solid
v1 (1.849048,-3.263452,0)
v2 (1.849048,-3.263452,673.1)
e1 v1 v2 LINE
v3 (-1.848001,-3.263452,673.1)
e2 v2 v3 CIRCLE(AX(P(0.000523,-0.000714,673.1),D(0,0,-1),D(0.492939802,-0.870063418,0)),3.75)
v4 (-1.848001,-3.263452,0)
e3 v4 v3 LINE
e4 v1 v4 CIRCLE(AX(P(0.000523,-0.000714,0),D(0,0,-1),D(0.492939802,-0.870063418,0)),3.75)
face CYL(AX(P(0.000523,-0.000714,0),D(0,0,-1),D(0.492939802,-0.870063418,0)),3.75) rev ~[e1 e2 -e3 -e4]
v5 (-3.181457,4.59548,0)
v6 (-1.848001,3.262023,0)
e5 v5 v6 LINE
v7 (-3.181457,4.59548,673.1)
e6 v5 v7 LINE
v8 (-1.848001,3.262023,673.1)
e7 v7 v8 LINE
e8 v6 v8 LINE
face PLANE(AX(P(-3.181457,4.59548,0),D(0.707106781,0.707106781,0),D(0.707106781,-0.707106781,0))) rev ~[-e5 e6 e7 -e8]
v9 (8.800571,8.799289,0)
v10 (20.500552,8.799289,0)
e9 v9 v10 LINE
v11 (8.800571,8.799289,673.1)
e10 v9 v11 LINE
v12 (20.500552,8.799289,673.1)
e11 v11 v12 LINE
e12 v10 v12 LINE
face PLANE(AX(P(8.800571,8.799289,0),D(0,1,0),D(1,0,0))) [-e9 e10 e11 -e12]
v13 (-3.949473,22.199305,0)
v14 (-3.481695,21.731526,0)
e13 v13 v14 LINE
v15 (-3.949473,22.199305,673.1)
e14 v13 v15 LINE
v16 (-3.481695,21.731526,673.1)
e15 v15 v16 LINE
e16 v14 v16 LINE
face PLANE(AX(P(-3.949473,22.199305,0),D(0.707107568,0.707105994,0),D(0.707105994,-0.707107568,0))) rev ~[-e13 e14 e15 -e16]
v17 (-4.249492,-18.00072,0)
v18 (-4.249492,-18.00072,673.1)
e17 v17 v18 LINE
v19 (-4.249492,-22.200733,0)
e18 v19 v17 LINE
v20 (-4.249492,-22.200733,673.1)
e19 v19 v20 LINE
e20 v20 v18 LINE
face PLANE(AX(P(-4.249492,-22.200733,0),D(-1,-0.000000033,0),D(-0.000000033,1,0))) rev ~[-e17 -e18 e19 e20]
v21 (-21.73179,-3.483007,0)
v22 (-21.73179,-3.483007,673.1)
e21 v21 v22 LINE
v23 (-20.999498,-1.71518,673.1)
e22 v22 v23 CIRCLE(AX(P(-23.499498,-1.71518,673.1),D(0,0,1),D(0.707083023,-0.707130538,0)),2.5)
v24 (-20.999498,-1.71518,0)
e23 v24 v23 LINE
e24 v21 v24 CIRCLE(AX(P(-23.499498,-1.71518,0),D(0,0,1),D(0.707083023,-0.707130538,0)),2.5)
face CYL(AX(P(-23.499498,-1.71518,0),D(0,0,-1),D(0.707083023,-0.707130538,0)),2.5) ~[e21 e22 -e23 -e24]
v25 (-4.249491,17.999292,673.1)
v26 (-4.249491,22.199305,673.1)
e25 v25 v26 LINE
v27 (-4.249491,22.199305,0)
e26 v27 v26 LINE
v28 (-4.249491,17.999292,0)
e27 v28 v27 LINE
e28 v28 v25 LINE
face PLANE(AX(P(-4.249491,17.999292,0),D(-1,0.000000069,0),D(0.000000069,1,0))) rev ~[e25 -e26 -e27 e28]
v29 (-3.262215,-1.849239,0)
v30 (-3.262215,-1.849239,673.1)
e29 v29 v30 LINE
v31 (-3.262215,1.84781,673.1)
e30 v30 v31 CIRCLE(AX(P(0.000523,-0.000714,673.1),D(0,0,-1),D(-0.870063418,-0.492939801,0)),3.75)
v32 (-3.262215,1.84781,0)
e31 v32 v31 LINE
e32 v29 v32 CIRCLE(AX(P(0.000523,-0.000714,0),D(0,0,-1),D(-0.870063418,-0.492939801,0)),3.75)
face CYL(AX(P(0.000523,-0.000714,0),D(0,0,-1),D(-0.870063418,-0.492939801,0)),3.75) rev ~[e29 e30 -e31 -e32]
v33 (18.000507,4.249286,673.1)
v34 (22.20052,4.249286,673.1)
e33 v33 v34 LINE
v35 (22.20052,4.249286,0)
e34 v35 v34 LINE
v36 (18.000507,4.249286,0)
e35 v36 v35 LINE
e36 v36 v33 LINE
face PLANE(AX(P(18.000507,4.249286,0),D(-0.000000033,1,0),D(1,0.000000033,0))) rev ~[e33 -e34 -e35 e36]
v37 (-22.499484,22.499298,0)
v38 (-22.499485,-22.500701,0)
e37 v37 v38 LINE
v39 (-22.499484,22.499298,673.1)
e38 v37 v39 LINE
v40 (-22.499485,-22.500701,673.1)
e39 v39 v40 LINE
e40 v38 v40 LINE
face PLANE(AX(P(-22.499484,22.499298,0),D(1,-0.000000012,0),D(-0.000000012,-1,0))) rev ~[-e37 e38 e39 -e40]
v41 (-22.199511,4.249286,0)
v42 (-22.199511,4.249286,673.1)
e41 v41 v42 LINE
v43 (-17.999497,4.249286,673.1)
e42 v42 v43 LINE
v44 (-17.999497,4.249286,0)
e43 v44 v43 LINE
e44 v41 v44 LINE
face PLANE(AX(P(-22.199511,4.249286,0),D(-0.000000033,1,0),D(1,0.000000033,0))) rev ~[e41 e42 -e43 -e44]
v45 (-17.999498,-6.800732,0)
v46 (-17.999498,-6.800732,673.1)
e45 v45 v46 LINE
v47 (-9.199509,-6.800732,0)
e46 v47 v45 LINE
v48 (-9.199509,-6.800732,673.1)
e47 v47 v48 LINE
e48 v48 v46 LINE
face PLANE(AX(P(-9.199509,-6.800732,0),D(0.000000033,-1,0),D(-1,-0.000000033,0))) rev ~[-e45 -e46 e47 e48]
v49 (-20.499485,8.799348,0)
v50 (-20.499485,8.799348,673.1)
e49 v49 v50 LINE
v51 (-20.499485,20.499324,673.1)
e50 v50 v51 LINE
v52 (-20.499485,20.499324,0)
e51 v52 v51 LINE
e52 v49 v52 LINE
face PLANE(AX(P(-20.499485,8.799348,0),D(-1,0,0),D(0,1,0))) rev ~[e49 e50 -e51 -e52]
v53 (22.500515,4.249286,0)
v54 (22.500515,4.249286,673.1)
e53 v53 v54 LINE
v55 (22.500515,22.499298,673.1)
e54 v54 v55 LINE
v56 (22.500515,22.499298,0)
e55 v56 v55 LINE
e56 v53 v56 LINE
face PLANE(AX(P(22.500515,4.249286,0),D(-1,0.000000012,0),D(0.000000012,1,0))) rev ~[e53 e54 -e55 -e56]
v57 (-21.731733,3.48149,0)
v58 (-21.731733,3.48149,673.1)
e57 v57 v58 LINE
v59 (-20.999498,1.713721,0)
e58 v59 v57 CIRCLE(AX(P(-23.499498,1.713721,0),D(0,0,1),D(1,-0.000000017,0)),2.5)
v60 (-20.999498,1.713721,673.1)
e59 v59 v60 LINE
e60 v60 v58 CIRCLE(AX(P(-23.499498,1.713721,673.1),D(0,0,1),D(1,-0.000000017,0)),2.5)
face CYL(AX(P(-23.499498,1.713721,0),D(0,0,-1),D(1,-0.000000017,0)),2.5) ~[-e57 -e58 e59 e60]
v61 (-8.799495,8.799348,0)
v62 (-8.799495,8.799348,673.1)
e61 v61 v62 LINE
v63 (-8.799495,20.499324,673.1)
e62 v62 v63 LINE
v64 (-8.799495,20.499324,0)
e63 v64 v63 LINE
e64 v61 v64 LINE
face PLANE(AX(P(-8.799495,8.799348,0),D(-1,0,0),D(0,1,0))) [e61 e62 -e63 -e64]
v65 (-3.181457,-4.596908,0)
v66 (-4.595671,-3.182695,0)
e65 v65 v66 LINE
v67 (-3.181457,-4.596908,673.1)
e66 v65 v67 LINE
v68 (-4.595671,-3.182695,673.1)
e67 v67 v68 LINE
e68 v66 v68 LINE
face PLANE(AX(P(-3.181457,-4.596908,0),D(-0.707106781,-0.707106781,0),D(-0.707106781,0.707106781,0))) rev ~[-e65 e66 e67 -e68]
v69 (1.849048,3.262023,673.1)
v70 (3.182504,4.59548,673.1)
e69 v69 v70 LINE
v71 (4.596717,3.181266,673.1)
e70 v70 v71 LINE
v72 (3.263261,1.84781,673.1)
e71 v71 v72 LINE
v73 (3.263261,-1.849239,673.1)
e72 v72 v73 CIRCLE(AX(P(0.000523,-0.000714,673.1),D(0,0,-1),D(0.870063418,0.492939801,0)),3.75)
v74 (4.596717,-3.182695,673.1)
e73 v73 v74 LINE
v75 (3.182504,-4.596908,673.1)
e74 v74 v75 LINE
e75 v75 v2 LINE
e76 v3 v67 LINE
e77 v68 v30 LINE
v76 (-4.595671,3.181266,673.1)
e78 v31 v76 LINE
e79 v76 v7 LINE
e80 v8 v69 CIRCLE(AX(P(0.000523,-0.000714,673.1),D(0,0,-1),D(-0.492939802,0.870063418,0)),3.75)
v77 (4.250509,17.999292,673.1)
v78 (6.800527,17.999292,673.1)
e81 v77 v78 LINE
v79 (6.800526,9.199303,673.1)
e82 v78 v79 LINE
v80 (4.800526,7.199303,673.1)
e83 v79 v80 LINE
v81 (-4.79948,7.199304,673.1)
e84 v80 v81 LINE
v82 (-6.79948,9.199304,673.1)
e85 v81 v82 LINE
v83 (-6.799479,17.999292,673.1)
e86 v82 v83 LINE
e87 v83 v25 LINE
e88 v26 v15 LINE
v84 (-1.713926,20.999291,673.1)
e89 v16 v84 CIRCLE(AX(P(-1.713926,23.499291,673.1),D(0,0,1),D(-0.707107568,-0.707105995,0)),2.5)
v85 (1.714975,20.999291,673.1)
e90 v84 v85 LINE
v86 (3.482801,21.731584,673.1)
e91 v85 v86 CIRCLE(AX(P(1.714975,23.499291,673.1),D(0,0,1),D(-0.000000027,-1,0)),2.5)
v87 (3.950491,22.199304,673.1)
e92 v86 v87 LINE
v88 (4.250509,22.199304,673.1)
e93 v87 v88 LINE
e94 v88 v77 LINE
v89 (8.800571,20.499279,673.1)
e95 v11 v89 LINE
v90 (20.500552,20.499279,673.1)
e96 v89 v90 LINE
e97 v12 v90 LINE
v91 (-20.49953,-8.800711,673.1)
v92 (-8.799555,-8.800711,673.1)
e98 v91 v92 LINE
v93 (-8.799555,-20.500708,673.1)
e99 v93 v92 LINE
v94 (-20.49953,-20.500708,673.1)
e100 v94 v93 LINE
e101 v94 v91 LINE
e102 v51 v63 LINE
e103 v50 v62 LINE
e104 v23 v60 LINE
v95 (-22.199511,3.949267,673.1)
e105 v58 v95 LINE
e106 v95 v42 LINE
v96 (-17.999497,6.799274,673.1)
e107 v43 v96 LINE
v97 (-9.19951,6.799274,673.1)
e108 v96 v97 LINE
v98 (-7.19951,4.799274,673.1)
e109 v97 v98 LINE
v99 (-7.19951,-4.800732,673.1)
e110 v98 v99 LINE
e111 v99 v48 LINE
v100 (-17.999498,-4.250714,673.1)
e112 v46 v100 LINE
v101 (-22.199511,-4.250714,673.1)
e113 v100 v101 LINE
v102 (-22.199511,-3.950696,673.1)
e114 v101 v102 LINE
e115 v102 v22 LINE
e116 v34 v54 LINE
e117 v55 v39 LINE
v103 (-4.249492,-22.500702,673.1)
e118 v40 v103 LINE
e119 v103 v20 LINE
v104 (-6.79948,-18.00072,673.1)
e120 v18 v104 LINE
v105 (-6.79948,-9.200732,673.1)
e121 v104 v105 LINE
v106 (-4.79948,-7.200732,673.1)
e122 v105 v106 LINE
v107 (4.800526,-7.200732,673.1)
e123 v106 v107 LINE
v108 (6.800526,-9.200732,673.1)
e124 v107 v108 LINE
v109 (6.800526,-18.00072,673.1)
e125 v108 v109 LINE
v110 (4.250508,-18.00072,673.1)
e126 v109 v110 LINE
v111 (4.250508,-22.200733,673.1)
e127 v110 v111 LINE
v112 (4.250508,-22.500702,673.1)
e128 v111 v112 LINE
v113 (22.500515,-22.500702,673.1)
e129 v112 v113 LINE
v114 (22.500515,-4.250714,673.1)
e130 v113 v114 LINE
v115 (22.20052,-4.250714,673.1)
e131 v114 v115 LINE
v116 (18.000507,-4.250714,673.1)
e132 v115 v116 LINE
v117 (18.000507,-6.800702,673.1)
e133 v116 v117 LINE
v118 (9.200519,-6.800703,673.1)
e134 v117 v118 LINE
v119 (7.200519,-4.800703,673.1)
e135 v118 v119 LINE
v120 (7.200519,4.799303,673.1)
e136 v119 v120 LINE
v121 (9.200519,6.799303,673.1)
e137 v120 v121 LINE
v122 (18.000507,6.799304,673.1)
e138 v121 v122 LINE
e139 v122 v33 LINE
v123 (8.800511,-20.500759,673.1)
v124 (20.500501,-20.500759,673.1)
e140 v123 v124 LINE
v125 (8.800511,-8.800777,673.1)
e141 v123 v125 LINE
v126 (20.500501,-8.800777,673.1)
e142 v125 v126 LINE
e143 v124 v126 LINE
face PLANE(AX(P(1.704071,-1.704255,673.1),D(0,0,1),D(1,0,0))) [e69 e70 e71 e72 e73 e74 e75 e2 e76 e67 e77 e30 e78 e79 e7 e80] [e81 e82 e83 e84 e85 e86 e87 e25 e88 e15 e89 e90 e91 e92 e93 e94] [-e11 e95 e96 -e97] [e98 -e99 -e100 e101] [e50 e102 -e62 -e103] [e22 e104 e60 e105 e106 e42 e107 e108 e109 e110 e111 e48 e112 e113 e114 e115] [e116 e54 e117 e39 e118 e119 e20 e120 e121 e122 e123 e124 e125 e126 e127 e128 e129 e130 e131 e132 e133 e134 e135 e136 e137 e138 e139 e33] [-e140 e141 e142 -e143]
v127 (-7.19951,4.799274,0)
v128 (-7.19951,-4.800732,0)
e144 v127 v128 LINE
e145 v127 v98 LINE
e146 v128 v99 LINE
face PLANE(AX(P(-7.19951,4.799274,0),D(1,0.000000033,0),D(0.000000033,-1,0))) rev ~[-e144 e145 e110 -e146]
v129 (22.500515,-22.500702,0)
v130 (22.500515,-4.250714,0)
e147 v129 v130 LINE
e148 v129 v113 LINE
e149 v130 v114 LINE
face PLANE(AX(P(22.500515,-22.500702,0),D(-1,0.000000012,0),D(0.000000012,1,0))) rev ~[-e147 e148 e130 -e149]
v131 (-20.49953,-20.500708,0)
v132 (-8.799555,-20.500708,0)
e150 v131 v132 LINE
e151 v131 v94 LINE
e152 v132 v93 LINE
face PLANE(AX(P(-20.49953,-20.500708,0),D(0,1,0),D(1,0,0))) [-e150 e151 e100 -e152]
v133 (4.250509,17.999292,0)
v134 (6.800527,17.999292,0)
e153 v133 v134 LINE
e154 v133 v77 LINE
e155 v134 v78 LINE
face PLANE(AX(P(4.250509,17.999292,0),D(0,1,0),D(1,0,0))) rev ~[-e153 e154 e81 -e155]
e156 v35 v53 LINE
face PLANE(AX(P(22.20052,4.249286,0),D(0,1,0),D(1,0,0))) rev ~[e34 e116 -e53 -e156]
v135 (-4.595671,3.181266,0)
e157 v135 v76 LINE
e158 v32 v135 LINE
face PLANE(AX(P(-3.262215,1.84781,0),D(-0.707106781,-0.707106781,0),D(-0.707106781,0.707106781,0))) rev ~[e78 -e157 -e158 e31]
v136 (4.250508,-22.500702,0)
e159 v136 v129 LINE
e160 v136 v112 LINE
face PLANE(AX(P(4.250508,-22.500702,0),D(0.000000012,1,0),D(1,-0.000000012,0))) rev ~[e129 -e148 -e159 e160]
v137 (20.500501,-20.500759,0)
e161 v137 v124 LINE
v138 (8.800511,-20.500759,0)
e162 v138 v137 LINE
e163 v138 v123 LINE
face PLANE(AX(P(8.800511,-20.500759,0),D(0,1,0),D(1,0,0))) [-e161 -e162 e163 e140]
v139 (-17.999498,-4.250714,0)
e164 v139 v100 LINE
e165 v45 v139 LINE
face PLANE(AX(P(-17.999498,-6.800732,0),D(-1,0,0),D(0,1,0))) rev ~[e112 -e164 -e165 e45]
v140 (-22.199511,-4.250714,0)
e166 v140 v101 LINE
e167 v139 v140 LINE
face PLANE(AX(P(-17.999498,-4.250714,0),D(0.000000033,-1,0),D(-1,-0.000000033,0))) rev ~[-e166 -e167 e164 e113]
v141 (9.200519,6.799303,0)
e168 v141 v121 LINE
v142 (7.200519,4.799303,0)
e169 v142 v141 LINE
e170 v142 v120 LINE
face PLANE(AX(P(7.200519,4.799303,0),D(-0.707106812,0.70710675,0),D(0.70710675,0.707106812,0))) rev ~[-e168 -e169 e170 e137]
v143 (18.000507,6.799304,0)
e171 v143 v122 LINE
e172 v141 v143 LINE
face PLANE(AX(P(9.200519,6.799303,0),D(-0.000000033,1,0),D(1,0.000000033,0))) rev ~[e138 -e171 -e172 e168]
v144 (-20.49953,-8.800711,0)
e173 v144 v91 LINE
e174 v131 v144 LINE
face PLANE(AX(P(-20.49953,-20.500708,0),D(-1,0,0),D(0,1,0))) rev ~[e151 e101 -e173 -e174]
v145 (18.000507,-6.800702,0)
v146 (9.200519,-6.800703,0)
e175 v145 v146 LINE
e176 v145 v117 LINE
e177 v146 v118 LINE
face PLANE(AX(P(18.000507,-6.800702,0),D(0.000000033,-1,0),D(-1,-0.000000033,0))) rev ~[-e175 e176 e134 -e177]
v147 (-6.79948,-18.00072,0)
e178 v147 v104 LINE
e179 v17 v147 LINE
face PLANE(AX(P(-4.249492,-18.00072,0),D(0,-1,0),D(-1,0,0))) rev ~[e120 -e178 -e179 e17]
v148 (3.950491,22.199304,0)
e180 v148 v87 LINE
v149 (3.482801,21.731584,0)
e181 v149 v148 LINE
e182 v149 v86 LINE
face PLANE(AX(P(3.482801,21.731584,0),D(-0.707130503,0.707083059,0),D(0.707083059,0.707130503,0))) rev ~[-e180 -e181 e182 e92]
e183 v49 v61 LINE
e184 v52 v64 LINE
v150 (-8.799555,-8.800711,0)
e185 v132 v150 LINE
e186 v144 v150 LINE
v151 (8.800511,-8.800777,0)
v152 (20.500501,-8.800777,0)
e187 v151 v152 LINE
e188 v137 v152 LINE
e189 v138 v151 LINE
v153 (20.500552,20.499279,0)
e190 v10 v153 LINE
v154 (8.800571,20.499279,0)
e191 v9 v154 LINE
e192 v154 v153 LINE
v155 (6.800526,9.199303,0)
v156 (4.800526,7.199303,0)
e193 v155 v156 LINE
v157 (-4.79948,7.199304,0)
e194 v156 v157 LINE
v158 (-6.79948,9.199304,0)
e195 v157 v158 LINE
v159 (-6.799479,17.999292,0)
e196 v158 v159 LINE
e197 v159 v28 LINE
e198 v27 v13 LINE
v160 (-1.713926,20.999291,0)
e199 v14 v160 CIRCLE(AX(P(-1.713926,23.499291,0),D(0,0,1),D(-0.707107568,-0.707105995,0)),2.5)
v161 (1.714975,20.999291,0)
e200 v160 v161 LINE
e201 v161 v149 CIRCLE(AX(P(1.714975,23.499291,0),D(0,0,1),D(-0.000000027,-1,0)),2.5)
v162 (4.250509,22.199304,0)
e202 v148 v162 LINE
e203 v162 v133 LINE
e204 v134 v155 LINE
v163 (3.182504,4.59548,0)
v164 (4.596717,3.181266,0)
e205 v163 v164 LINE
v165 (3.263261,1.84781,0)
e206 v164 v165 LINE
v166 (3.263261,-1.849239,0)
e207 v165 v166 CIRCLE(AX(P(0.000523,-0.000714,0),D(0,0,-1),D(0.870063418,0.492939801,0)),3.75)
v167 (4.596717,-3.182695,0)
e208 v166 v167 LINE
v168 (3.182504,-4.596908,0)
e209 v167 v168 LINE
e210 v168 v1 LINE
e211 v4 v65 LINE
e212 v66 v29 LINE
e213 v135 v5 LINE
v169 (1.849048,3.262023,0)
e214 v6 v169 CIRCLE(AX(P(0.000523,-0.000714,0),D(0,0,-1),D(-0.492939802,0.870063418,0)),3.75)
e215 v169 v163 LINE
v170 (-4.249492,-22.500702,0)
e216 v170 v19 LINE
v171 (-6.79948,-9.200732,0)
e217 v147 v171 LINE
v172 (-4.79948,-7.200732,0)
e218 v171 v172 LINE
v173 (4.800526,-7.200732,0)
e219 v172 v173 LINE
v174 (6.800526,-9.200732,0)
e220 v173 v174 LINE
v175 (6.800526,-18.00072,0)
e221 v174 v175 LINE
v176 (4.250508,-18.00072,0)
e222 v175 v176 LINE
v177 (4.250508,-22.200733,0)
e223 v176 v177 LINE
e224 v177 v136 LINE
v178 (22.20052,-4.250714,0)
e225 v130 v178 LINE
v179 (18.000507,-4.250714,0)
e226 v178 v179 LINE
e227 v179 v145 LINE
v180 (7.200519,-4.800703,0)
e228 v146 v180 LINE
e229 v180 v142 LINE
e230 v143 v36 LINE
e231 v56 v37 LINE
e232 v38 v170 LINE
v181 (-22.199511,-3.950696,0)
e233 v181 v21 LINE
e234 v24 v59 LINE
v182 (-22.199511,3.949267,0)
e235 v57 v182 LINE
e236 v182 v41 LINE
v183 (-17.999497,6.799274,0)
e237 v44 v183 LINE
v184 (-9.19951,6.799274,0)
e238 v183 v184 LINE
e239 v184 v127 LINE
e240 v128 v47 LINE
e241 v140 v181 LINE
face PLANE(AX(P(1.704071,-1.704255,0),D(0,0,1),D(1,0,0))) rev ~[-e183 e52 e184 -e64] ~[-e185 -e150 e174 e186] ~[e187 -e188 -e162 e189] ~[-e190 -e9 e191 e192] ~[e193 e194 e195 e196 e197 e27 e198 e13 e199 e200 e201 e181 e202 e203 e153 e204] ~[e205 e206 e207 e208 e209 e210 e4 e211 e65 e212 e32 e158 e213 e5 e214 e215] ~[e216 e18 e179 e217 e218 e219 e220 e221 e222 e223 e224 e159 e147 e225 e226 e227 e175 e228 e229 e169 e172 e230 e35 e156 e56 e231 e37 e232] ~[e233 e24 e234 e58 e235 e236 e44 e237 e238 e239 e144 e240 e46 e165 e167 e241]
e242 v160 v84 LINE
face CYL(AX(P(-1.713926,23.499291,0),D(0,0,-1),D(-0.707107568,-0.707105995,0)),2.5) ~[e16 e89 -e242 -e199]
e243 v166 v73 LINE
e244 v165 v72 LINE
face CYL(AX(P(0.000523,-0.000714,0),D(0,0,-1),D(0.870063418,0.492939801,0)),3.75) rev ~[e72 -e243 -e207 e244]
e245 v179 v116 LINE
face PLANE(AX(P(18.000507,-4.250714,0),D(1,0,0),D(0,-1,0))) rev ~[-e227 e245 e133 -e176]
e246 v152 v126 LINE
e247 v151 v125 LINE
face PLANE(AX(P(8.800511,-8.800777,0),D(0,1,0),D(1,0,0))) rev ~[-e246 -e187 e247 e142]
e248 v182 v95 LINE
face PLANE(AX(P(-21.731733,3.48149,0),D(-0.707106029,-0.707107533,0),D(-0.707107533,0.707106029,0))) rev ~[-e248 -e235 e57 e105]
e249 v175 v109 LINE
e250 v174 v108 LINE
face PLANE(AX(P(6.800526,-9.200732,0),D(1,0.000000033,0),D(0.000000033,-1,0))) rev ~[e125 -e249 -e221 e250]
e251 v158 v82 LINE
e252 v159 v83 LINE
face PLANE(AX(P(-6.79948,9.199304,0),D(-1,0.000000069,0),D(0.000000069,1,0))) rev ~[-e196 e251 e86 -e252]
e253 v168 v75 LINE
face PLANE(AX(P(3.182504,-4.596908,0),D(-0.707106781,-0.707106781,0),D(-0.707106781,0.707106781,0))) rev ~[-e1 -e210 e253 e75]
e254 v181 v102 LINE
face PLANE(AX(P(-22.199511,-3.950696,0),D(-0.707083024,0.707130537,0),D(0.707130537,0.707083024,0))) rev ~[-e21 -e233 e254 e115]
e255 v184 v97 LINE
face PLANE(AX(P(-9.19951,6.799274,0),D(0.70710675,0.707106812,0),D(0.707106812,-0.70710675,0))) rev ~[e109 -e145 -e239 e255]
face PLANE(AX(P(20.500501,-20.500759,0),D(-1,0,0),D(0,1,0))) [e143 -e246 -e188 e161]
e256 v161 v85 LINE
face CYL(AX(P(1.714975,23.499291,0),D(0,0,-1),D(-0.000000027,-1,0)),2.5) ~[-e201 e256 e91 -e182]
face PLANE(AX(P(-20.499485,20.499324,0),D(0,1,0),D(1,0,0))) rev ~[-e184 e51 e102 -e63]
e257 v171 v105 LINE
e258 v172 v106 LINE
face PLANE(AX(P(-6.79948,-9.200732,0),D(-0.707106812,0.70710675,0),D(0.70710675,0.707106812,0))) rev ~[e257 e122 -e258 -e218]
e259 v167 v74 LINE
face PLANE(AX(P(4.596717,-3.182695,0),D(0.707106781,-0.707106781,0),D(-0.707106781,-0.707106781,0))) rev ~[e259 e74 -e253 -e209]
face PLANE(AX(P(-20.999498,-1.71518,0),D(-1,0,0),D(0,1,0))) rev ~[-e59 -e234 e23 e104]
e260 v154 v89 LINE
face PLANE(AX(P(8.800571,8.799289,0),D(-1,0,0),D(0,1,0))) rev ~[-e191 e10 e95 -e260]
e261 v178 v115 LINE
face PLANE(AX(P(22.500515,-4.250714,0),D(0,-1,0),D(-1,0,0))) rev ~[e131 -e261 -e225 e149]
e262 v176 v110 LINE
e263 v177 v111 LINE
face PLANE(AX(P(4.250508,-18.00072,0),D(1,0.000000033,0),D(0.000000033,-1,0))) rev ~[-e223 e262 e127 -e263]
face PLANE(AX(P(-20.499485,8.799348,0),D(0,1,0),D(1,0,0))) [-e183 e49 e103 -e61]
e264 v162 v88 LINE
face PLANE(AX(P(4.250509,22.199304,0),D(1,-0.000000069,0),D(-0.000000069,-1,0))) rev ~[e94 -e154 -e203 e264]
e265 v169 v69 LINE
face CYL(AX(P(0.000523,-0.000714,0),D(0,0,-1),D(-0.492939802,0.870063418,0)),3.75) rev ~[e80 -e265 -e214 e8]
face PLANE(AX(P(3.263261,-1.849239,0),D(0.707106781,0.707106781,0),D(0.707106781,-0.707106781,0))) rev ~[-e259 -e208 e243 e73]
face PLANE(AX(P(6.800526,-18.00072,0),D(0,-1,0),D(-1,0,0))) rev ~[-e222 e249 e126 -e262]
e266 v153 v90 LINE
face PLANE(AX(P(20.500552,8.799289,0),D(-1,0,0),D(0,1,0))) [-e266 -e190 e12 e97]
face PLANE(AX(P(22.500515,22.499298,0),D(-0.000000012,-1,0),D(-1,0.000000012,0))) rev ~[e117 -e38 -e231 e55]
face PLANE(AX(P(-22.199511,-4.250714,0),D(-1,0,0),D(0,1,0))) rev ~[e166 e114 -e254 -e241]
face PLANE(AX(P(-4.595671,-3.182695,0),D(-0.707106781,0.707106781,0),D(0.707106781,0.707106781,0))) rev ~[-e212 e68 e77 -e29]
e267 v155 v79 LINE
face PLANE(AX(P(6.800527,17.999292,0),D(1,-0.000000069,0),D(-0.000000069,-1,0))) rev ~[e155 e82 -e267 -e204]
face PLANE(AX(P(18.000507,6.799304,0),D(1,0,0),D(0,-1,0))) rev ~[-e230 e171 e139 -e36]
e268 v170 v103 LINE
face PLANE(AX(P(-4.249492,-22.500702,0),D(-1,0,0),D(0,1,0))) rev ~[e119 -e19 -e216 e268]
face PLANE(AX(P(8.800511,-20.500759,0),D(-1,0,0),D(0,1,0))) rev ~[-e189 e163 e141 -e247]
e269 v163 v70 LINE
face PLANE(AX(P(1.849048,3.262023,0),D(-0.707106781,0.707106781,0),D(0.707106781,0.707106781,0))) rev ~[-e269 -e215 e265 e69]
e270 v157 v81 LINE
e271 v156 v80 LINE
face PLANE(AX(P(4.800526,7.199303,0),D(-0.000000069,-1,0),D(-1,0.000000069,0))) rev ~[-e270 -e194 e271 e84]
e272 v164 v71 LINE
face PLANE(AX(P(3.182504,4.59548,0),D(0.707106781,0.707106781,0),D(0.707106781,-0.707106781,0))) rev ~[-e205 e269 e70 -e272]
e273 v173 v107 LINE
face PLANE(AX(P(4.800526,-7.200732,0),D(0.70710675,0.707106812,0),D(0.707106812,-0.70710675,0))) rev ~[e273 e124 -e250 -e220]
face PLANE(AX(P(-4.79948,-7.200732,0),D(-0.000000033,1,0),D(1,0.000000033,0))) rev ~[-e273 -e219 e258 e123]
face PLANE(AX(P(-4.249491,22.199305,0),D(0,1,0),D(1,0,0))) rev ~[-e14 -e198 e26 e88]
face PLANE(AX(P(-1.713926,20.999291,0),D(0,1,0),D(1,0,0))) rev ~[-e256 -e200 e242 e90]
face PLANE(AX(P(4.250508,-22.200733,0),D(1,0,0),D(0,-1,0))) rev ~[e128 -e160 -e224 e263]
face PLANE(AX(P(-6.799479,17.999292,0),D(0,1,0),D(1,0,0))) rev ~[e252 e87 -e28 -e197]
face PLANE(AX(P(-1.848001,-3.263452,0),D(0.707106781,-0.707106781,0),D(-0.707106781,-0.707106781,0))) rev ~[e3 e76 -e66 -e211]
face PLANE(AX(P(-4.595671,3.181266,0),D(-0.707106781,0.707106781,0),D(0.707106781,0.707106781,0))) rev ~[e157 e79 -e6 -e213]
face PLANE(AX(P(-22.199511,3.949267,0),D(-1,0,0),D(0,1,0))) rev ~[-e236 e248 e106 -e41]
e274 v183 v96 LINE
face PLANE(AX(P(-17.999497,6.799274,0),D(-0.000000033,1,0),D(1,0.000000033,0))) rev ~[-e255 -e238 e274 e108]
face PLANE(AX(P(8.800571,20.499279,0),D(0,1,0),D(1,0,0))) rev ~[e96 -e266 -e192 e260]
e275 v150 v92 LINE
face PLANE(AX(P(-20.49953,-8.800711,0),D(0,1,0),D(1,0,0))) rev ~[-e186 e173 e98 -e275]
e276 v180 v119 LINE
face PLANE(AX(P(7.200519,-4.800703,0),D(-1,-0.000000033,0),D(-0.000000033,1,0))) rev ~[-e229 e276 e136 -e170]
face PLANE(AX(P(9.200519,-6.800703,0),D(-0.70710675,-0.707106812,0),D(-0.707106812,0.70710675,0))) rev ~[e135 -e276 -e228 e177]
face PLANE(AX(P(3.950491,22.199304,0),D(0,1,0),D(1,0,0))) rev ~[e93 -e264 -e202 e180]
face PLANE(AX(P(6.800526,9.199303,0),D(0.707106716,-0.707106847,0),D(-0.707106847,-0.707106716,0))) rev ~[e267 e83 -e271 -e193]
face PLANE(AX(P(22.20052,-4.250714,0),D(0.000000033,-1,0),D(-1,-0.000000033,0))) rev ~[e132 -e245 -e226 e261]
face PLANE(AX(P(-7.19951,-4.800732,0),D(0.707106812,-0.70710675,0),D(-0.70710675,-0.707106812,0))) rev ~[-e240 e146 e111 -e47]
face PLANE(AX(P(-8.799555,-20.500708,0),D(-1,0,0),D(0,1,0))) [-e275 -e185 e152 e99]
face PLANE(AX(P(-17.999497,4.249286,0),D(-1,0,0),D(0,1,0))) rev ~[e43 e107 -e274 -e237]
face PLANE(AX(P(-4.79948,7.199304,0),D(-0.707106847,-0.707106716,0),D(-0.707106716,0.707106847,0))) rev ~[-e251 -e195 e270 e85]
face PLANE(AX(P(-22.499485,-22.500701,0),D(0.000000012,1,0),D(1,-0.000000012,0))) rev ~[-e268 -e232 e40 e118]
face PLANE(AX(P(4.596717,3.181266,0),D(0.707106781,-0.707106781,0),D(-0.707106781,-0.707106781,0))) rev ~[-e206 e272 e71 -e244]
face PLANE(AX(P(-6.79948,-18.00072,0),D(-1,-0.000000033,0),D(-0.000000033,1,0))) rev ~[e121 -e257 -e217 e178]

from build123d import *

# Parameters (mm, degrees)
SKETCH1_W           = 11.699975178
SKETCH1_H           = 11.699996949
SKETCH1_W_2         = 11.699990436
SKETCH1_H_2         = 11.699981689
SKETCH1_W_3         = 11.699990437
SKETCH1_H_3         = 11.699975177
SKETCH1_W_4         = 11.699981689
SKETCH1_H_4         = 11.699990436
BOSS_EXTRUDE1_DEPTH = 673.1


with BuildPart() as part:
    # Sketch1 → Boss-Extrude1 (new body)
    with BuildSketch(Plane.XY):
        Polygon((22.500515052, 22.499297556), (-22.499484399, 22.499298105), (-22.499484948, -22.500701346), (-4.249491942, -22.500701568), (-4.249491942, -22.200733242), (-4.24949208, -18.000719999), (-6.799479919, -18.000719999), (-6.799480207, -9.200732353), (-4.799480391, -7.200732362), (4.800525817, -7.200732047), (6.8005258, -9.200731855), (6.800526088, -18.000720263), (4.250507877, -18.000720263), (4.250508015, -22.200733153), (4.250508015, -22.500701672), (22.500514502, -22.500701895), (22.500514725, -4.250714302), (22.200520351, -4.250714302), (18.000507108, -4.25071444), (18.000507108, -6.800702279), (9.200519462, -6.800702567), (7.200519471, -4.800702751), (7.200519156, 4.799303458), (9.200518964, 6.79930344), (18.000507424, 6.799303729), (18.000507424, 4.249285514), (22.200520261, 4.249285652), (22.500514829, 4.249285652), align=None)
        with BuildLine():
            Line((-4.249491247, 17.999291576), (-4.249490956, 22.199304807))
            Line((-4.249490956, 22.199304807), (-3.949472548, 22.199304807))
            Line((-3.949472548, 22.199304807), (-3.481695222, 21.73152644))
            ThreePointArc((-3.481695222, 21.73152644), (-2.670636178, 21.189593132), (-1.713926324, 20.999291428))
            Line((-1.713926324, 20.999291428), (1.714975167, 20.999291428))
            ThreePointArc((1.714975167, 20.999291428), (2.671722509, 21.189608628), (3.482801459, 21.731583767))
            Line((3.482801459, 21.731583767), (3.950490798, 22.199304487))
            Line((3.950490798, 22.199304487), (4.250509108, 22.199304487))
            Line((4.250509108, 22.199304487), (4.250508817, 17.999291575))
            Line((4.250508817, 17.999291575), (6.800527063, 17.999291575))
            Line((6.800527063, 17.999291575), (6.800526453, 9.199302988))
            Line((6.800526453, 9.199302988), (4.800526064, 7.199302969))
            Line((4.800526064, 7.199302969), (-4.799479817, 7.199303635))
            Line((-4.799479817, 7.199303635), (-6.799479854, 9.199304042))
            Line((-6.799479854, 9.199304042), (-6.799479244, 17.999291576))
            Line((-6.799479244, 17.999291576), (-4.249491247, 17.999291576))
        make_face(mode=Mode.SUBTRACT)
        with BuildLine():
            Line((-22.199510888, 4.249285566), (-17.999497356, 4.249285704))
            Line((-17.999497356, 4.249285704), (-17.999497356, 6.79927354))
            Line((-17.999497356, 6.79927354), (-9.199509947, 6.799273828))
            Line((-9.199509947, 6.799273828), (-7.199509956, 4.799274012))
            Line((-7.199509956, 4.799274012), (-7.199509641, -4.800732197))
            Line((-7.199509641, -4.800732197), (-9.199509449, -6.800732179))
            Line((-9.199509449, -6.800732179), (-17.99949762, -6.800732468))
            Line((-17.99949762, -6.800732468), (-17.99949762, -4.250714253))
            Line((-17.99949762, -4.250714253), (-22.199510799, -4.250714391))
            Line((-22.199510799, -4.250714391), (-22.199510799, -3.950696126))
            Line((-22.199510799, -3.950696126), (-21.731790056, -3.48300681))
            ThreePointArc((-21.731790056, -3.48300681), (-21.189814855, -2.671927844), (-20.999497617, -1.71518046))
            Line((-20.999497617, -1.71518046), (-20.999497617, 1.713721031))
            ThreePointArc((-20.999497617, 1.713721031), (-21.189799286, 2.670430863), (-21.731732544, 3.481489907))
            Line((-21.731732544, 3.481489907), (-22.199510888, 3.949267256))
            Line((-22.199510888, 3.949267256), (-22.199510888, 4.249285566))
        make_face(mode=Mode.SUBTRACT)
        with Locations((-14.649542346, -14.650709384)):
            Rectangle(SKETCH1_W, SKETCH1_H, mode=Mode.SUBTRACT)
        with Locations((14.65050626, -14.650767962)):
            Rectangle(SKETCH1_W_2, SKETCH1_H_2, mode=Mode.SUBTRACT)
        with BuildLine():
            Line((-3.181457266, -4.596908447), (-4.595670829, -3.182694885))
            Line((-4.595670829, -3.182694885), (-3.26221457, -1.849238626))
            ThreePointArc((-3.26221457, -1.849238626), (-3.749476751, -0.00071437), (-3.26221457, 1.847809887))
            Line((-3.26221457, 1.847809887), (-4.595670829, 3.181266146))
            Line((-4.595670829, 3.181266146), (-3.181457266, 4.595479708))
            Line((-3.181457266, 4.595479708), (-1.848001007, 3.262023449))
            ThreePointArc((-1.848001007, 3.262023449), (0.000523249, 3.74928563), (1.849047505, 3.262023449))
            Line((1.849047505, 3.262023449), (3.182503764, 4.595479708))
            Line((3.182503764, 4.595479708), (4.596717327, 3.181266146))
            Line((4.596717327, 3.181266146), (3.263261068, 1.847809887))
            ThreePointArc((3.263261068, 1.847809887), (3.750523249, -0.00071437), (3.263261068, -1.849238626))
            Line((3.263261068, -1.849238626), (4.596717327, -3.182694885))
            Line((4.596717327, -3.182694885), (3.182503764, -4.596908447))
            Line((3.182503764, -4.596908447), (1.849047505, -3.263452188))
            ThreePointArc((1.849047505, -3.263452188), (0.000523249, -3.75071437), (-1.848001007, -3.263452188))
            Line((-1.848001007, -3.263452188), (-3.181457266, -4.596908447))
        make_face(mode=Mode.SUBTRACT)
        with Locations((-14.64949028, 14.649335967)):
            Rectangle(SKETCH1_W_3, SKETCH1_H_3, mode=Mode.SUBTRACT)
        with Locations((14.650561583, 14.6492839)):
            Rectangle(SKETCH1_W_4, SKETCH1_H_4, mode=Mode.SUBTRACT)
    extrude(amount=BOSS_EXTRUDE1_DEPTH)


solid = part.part
